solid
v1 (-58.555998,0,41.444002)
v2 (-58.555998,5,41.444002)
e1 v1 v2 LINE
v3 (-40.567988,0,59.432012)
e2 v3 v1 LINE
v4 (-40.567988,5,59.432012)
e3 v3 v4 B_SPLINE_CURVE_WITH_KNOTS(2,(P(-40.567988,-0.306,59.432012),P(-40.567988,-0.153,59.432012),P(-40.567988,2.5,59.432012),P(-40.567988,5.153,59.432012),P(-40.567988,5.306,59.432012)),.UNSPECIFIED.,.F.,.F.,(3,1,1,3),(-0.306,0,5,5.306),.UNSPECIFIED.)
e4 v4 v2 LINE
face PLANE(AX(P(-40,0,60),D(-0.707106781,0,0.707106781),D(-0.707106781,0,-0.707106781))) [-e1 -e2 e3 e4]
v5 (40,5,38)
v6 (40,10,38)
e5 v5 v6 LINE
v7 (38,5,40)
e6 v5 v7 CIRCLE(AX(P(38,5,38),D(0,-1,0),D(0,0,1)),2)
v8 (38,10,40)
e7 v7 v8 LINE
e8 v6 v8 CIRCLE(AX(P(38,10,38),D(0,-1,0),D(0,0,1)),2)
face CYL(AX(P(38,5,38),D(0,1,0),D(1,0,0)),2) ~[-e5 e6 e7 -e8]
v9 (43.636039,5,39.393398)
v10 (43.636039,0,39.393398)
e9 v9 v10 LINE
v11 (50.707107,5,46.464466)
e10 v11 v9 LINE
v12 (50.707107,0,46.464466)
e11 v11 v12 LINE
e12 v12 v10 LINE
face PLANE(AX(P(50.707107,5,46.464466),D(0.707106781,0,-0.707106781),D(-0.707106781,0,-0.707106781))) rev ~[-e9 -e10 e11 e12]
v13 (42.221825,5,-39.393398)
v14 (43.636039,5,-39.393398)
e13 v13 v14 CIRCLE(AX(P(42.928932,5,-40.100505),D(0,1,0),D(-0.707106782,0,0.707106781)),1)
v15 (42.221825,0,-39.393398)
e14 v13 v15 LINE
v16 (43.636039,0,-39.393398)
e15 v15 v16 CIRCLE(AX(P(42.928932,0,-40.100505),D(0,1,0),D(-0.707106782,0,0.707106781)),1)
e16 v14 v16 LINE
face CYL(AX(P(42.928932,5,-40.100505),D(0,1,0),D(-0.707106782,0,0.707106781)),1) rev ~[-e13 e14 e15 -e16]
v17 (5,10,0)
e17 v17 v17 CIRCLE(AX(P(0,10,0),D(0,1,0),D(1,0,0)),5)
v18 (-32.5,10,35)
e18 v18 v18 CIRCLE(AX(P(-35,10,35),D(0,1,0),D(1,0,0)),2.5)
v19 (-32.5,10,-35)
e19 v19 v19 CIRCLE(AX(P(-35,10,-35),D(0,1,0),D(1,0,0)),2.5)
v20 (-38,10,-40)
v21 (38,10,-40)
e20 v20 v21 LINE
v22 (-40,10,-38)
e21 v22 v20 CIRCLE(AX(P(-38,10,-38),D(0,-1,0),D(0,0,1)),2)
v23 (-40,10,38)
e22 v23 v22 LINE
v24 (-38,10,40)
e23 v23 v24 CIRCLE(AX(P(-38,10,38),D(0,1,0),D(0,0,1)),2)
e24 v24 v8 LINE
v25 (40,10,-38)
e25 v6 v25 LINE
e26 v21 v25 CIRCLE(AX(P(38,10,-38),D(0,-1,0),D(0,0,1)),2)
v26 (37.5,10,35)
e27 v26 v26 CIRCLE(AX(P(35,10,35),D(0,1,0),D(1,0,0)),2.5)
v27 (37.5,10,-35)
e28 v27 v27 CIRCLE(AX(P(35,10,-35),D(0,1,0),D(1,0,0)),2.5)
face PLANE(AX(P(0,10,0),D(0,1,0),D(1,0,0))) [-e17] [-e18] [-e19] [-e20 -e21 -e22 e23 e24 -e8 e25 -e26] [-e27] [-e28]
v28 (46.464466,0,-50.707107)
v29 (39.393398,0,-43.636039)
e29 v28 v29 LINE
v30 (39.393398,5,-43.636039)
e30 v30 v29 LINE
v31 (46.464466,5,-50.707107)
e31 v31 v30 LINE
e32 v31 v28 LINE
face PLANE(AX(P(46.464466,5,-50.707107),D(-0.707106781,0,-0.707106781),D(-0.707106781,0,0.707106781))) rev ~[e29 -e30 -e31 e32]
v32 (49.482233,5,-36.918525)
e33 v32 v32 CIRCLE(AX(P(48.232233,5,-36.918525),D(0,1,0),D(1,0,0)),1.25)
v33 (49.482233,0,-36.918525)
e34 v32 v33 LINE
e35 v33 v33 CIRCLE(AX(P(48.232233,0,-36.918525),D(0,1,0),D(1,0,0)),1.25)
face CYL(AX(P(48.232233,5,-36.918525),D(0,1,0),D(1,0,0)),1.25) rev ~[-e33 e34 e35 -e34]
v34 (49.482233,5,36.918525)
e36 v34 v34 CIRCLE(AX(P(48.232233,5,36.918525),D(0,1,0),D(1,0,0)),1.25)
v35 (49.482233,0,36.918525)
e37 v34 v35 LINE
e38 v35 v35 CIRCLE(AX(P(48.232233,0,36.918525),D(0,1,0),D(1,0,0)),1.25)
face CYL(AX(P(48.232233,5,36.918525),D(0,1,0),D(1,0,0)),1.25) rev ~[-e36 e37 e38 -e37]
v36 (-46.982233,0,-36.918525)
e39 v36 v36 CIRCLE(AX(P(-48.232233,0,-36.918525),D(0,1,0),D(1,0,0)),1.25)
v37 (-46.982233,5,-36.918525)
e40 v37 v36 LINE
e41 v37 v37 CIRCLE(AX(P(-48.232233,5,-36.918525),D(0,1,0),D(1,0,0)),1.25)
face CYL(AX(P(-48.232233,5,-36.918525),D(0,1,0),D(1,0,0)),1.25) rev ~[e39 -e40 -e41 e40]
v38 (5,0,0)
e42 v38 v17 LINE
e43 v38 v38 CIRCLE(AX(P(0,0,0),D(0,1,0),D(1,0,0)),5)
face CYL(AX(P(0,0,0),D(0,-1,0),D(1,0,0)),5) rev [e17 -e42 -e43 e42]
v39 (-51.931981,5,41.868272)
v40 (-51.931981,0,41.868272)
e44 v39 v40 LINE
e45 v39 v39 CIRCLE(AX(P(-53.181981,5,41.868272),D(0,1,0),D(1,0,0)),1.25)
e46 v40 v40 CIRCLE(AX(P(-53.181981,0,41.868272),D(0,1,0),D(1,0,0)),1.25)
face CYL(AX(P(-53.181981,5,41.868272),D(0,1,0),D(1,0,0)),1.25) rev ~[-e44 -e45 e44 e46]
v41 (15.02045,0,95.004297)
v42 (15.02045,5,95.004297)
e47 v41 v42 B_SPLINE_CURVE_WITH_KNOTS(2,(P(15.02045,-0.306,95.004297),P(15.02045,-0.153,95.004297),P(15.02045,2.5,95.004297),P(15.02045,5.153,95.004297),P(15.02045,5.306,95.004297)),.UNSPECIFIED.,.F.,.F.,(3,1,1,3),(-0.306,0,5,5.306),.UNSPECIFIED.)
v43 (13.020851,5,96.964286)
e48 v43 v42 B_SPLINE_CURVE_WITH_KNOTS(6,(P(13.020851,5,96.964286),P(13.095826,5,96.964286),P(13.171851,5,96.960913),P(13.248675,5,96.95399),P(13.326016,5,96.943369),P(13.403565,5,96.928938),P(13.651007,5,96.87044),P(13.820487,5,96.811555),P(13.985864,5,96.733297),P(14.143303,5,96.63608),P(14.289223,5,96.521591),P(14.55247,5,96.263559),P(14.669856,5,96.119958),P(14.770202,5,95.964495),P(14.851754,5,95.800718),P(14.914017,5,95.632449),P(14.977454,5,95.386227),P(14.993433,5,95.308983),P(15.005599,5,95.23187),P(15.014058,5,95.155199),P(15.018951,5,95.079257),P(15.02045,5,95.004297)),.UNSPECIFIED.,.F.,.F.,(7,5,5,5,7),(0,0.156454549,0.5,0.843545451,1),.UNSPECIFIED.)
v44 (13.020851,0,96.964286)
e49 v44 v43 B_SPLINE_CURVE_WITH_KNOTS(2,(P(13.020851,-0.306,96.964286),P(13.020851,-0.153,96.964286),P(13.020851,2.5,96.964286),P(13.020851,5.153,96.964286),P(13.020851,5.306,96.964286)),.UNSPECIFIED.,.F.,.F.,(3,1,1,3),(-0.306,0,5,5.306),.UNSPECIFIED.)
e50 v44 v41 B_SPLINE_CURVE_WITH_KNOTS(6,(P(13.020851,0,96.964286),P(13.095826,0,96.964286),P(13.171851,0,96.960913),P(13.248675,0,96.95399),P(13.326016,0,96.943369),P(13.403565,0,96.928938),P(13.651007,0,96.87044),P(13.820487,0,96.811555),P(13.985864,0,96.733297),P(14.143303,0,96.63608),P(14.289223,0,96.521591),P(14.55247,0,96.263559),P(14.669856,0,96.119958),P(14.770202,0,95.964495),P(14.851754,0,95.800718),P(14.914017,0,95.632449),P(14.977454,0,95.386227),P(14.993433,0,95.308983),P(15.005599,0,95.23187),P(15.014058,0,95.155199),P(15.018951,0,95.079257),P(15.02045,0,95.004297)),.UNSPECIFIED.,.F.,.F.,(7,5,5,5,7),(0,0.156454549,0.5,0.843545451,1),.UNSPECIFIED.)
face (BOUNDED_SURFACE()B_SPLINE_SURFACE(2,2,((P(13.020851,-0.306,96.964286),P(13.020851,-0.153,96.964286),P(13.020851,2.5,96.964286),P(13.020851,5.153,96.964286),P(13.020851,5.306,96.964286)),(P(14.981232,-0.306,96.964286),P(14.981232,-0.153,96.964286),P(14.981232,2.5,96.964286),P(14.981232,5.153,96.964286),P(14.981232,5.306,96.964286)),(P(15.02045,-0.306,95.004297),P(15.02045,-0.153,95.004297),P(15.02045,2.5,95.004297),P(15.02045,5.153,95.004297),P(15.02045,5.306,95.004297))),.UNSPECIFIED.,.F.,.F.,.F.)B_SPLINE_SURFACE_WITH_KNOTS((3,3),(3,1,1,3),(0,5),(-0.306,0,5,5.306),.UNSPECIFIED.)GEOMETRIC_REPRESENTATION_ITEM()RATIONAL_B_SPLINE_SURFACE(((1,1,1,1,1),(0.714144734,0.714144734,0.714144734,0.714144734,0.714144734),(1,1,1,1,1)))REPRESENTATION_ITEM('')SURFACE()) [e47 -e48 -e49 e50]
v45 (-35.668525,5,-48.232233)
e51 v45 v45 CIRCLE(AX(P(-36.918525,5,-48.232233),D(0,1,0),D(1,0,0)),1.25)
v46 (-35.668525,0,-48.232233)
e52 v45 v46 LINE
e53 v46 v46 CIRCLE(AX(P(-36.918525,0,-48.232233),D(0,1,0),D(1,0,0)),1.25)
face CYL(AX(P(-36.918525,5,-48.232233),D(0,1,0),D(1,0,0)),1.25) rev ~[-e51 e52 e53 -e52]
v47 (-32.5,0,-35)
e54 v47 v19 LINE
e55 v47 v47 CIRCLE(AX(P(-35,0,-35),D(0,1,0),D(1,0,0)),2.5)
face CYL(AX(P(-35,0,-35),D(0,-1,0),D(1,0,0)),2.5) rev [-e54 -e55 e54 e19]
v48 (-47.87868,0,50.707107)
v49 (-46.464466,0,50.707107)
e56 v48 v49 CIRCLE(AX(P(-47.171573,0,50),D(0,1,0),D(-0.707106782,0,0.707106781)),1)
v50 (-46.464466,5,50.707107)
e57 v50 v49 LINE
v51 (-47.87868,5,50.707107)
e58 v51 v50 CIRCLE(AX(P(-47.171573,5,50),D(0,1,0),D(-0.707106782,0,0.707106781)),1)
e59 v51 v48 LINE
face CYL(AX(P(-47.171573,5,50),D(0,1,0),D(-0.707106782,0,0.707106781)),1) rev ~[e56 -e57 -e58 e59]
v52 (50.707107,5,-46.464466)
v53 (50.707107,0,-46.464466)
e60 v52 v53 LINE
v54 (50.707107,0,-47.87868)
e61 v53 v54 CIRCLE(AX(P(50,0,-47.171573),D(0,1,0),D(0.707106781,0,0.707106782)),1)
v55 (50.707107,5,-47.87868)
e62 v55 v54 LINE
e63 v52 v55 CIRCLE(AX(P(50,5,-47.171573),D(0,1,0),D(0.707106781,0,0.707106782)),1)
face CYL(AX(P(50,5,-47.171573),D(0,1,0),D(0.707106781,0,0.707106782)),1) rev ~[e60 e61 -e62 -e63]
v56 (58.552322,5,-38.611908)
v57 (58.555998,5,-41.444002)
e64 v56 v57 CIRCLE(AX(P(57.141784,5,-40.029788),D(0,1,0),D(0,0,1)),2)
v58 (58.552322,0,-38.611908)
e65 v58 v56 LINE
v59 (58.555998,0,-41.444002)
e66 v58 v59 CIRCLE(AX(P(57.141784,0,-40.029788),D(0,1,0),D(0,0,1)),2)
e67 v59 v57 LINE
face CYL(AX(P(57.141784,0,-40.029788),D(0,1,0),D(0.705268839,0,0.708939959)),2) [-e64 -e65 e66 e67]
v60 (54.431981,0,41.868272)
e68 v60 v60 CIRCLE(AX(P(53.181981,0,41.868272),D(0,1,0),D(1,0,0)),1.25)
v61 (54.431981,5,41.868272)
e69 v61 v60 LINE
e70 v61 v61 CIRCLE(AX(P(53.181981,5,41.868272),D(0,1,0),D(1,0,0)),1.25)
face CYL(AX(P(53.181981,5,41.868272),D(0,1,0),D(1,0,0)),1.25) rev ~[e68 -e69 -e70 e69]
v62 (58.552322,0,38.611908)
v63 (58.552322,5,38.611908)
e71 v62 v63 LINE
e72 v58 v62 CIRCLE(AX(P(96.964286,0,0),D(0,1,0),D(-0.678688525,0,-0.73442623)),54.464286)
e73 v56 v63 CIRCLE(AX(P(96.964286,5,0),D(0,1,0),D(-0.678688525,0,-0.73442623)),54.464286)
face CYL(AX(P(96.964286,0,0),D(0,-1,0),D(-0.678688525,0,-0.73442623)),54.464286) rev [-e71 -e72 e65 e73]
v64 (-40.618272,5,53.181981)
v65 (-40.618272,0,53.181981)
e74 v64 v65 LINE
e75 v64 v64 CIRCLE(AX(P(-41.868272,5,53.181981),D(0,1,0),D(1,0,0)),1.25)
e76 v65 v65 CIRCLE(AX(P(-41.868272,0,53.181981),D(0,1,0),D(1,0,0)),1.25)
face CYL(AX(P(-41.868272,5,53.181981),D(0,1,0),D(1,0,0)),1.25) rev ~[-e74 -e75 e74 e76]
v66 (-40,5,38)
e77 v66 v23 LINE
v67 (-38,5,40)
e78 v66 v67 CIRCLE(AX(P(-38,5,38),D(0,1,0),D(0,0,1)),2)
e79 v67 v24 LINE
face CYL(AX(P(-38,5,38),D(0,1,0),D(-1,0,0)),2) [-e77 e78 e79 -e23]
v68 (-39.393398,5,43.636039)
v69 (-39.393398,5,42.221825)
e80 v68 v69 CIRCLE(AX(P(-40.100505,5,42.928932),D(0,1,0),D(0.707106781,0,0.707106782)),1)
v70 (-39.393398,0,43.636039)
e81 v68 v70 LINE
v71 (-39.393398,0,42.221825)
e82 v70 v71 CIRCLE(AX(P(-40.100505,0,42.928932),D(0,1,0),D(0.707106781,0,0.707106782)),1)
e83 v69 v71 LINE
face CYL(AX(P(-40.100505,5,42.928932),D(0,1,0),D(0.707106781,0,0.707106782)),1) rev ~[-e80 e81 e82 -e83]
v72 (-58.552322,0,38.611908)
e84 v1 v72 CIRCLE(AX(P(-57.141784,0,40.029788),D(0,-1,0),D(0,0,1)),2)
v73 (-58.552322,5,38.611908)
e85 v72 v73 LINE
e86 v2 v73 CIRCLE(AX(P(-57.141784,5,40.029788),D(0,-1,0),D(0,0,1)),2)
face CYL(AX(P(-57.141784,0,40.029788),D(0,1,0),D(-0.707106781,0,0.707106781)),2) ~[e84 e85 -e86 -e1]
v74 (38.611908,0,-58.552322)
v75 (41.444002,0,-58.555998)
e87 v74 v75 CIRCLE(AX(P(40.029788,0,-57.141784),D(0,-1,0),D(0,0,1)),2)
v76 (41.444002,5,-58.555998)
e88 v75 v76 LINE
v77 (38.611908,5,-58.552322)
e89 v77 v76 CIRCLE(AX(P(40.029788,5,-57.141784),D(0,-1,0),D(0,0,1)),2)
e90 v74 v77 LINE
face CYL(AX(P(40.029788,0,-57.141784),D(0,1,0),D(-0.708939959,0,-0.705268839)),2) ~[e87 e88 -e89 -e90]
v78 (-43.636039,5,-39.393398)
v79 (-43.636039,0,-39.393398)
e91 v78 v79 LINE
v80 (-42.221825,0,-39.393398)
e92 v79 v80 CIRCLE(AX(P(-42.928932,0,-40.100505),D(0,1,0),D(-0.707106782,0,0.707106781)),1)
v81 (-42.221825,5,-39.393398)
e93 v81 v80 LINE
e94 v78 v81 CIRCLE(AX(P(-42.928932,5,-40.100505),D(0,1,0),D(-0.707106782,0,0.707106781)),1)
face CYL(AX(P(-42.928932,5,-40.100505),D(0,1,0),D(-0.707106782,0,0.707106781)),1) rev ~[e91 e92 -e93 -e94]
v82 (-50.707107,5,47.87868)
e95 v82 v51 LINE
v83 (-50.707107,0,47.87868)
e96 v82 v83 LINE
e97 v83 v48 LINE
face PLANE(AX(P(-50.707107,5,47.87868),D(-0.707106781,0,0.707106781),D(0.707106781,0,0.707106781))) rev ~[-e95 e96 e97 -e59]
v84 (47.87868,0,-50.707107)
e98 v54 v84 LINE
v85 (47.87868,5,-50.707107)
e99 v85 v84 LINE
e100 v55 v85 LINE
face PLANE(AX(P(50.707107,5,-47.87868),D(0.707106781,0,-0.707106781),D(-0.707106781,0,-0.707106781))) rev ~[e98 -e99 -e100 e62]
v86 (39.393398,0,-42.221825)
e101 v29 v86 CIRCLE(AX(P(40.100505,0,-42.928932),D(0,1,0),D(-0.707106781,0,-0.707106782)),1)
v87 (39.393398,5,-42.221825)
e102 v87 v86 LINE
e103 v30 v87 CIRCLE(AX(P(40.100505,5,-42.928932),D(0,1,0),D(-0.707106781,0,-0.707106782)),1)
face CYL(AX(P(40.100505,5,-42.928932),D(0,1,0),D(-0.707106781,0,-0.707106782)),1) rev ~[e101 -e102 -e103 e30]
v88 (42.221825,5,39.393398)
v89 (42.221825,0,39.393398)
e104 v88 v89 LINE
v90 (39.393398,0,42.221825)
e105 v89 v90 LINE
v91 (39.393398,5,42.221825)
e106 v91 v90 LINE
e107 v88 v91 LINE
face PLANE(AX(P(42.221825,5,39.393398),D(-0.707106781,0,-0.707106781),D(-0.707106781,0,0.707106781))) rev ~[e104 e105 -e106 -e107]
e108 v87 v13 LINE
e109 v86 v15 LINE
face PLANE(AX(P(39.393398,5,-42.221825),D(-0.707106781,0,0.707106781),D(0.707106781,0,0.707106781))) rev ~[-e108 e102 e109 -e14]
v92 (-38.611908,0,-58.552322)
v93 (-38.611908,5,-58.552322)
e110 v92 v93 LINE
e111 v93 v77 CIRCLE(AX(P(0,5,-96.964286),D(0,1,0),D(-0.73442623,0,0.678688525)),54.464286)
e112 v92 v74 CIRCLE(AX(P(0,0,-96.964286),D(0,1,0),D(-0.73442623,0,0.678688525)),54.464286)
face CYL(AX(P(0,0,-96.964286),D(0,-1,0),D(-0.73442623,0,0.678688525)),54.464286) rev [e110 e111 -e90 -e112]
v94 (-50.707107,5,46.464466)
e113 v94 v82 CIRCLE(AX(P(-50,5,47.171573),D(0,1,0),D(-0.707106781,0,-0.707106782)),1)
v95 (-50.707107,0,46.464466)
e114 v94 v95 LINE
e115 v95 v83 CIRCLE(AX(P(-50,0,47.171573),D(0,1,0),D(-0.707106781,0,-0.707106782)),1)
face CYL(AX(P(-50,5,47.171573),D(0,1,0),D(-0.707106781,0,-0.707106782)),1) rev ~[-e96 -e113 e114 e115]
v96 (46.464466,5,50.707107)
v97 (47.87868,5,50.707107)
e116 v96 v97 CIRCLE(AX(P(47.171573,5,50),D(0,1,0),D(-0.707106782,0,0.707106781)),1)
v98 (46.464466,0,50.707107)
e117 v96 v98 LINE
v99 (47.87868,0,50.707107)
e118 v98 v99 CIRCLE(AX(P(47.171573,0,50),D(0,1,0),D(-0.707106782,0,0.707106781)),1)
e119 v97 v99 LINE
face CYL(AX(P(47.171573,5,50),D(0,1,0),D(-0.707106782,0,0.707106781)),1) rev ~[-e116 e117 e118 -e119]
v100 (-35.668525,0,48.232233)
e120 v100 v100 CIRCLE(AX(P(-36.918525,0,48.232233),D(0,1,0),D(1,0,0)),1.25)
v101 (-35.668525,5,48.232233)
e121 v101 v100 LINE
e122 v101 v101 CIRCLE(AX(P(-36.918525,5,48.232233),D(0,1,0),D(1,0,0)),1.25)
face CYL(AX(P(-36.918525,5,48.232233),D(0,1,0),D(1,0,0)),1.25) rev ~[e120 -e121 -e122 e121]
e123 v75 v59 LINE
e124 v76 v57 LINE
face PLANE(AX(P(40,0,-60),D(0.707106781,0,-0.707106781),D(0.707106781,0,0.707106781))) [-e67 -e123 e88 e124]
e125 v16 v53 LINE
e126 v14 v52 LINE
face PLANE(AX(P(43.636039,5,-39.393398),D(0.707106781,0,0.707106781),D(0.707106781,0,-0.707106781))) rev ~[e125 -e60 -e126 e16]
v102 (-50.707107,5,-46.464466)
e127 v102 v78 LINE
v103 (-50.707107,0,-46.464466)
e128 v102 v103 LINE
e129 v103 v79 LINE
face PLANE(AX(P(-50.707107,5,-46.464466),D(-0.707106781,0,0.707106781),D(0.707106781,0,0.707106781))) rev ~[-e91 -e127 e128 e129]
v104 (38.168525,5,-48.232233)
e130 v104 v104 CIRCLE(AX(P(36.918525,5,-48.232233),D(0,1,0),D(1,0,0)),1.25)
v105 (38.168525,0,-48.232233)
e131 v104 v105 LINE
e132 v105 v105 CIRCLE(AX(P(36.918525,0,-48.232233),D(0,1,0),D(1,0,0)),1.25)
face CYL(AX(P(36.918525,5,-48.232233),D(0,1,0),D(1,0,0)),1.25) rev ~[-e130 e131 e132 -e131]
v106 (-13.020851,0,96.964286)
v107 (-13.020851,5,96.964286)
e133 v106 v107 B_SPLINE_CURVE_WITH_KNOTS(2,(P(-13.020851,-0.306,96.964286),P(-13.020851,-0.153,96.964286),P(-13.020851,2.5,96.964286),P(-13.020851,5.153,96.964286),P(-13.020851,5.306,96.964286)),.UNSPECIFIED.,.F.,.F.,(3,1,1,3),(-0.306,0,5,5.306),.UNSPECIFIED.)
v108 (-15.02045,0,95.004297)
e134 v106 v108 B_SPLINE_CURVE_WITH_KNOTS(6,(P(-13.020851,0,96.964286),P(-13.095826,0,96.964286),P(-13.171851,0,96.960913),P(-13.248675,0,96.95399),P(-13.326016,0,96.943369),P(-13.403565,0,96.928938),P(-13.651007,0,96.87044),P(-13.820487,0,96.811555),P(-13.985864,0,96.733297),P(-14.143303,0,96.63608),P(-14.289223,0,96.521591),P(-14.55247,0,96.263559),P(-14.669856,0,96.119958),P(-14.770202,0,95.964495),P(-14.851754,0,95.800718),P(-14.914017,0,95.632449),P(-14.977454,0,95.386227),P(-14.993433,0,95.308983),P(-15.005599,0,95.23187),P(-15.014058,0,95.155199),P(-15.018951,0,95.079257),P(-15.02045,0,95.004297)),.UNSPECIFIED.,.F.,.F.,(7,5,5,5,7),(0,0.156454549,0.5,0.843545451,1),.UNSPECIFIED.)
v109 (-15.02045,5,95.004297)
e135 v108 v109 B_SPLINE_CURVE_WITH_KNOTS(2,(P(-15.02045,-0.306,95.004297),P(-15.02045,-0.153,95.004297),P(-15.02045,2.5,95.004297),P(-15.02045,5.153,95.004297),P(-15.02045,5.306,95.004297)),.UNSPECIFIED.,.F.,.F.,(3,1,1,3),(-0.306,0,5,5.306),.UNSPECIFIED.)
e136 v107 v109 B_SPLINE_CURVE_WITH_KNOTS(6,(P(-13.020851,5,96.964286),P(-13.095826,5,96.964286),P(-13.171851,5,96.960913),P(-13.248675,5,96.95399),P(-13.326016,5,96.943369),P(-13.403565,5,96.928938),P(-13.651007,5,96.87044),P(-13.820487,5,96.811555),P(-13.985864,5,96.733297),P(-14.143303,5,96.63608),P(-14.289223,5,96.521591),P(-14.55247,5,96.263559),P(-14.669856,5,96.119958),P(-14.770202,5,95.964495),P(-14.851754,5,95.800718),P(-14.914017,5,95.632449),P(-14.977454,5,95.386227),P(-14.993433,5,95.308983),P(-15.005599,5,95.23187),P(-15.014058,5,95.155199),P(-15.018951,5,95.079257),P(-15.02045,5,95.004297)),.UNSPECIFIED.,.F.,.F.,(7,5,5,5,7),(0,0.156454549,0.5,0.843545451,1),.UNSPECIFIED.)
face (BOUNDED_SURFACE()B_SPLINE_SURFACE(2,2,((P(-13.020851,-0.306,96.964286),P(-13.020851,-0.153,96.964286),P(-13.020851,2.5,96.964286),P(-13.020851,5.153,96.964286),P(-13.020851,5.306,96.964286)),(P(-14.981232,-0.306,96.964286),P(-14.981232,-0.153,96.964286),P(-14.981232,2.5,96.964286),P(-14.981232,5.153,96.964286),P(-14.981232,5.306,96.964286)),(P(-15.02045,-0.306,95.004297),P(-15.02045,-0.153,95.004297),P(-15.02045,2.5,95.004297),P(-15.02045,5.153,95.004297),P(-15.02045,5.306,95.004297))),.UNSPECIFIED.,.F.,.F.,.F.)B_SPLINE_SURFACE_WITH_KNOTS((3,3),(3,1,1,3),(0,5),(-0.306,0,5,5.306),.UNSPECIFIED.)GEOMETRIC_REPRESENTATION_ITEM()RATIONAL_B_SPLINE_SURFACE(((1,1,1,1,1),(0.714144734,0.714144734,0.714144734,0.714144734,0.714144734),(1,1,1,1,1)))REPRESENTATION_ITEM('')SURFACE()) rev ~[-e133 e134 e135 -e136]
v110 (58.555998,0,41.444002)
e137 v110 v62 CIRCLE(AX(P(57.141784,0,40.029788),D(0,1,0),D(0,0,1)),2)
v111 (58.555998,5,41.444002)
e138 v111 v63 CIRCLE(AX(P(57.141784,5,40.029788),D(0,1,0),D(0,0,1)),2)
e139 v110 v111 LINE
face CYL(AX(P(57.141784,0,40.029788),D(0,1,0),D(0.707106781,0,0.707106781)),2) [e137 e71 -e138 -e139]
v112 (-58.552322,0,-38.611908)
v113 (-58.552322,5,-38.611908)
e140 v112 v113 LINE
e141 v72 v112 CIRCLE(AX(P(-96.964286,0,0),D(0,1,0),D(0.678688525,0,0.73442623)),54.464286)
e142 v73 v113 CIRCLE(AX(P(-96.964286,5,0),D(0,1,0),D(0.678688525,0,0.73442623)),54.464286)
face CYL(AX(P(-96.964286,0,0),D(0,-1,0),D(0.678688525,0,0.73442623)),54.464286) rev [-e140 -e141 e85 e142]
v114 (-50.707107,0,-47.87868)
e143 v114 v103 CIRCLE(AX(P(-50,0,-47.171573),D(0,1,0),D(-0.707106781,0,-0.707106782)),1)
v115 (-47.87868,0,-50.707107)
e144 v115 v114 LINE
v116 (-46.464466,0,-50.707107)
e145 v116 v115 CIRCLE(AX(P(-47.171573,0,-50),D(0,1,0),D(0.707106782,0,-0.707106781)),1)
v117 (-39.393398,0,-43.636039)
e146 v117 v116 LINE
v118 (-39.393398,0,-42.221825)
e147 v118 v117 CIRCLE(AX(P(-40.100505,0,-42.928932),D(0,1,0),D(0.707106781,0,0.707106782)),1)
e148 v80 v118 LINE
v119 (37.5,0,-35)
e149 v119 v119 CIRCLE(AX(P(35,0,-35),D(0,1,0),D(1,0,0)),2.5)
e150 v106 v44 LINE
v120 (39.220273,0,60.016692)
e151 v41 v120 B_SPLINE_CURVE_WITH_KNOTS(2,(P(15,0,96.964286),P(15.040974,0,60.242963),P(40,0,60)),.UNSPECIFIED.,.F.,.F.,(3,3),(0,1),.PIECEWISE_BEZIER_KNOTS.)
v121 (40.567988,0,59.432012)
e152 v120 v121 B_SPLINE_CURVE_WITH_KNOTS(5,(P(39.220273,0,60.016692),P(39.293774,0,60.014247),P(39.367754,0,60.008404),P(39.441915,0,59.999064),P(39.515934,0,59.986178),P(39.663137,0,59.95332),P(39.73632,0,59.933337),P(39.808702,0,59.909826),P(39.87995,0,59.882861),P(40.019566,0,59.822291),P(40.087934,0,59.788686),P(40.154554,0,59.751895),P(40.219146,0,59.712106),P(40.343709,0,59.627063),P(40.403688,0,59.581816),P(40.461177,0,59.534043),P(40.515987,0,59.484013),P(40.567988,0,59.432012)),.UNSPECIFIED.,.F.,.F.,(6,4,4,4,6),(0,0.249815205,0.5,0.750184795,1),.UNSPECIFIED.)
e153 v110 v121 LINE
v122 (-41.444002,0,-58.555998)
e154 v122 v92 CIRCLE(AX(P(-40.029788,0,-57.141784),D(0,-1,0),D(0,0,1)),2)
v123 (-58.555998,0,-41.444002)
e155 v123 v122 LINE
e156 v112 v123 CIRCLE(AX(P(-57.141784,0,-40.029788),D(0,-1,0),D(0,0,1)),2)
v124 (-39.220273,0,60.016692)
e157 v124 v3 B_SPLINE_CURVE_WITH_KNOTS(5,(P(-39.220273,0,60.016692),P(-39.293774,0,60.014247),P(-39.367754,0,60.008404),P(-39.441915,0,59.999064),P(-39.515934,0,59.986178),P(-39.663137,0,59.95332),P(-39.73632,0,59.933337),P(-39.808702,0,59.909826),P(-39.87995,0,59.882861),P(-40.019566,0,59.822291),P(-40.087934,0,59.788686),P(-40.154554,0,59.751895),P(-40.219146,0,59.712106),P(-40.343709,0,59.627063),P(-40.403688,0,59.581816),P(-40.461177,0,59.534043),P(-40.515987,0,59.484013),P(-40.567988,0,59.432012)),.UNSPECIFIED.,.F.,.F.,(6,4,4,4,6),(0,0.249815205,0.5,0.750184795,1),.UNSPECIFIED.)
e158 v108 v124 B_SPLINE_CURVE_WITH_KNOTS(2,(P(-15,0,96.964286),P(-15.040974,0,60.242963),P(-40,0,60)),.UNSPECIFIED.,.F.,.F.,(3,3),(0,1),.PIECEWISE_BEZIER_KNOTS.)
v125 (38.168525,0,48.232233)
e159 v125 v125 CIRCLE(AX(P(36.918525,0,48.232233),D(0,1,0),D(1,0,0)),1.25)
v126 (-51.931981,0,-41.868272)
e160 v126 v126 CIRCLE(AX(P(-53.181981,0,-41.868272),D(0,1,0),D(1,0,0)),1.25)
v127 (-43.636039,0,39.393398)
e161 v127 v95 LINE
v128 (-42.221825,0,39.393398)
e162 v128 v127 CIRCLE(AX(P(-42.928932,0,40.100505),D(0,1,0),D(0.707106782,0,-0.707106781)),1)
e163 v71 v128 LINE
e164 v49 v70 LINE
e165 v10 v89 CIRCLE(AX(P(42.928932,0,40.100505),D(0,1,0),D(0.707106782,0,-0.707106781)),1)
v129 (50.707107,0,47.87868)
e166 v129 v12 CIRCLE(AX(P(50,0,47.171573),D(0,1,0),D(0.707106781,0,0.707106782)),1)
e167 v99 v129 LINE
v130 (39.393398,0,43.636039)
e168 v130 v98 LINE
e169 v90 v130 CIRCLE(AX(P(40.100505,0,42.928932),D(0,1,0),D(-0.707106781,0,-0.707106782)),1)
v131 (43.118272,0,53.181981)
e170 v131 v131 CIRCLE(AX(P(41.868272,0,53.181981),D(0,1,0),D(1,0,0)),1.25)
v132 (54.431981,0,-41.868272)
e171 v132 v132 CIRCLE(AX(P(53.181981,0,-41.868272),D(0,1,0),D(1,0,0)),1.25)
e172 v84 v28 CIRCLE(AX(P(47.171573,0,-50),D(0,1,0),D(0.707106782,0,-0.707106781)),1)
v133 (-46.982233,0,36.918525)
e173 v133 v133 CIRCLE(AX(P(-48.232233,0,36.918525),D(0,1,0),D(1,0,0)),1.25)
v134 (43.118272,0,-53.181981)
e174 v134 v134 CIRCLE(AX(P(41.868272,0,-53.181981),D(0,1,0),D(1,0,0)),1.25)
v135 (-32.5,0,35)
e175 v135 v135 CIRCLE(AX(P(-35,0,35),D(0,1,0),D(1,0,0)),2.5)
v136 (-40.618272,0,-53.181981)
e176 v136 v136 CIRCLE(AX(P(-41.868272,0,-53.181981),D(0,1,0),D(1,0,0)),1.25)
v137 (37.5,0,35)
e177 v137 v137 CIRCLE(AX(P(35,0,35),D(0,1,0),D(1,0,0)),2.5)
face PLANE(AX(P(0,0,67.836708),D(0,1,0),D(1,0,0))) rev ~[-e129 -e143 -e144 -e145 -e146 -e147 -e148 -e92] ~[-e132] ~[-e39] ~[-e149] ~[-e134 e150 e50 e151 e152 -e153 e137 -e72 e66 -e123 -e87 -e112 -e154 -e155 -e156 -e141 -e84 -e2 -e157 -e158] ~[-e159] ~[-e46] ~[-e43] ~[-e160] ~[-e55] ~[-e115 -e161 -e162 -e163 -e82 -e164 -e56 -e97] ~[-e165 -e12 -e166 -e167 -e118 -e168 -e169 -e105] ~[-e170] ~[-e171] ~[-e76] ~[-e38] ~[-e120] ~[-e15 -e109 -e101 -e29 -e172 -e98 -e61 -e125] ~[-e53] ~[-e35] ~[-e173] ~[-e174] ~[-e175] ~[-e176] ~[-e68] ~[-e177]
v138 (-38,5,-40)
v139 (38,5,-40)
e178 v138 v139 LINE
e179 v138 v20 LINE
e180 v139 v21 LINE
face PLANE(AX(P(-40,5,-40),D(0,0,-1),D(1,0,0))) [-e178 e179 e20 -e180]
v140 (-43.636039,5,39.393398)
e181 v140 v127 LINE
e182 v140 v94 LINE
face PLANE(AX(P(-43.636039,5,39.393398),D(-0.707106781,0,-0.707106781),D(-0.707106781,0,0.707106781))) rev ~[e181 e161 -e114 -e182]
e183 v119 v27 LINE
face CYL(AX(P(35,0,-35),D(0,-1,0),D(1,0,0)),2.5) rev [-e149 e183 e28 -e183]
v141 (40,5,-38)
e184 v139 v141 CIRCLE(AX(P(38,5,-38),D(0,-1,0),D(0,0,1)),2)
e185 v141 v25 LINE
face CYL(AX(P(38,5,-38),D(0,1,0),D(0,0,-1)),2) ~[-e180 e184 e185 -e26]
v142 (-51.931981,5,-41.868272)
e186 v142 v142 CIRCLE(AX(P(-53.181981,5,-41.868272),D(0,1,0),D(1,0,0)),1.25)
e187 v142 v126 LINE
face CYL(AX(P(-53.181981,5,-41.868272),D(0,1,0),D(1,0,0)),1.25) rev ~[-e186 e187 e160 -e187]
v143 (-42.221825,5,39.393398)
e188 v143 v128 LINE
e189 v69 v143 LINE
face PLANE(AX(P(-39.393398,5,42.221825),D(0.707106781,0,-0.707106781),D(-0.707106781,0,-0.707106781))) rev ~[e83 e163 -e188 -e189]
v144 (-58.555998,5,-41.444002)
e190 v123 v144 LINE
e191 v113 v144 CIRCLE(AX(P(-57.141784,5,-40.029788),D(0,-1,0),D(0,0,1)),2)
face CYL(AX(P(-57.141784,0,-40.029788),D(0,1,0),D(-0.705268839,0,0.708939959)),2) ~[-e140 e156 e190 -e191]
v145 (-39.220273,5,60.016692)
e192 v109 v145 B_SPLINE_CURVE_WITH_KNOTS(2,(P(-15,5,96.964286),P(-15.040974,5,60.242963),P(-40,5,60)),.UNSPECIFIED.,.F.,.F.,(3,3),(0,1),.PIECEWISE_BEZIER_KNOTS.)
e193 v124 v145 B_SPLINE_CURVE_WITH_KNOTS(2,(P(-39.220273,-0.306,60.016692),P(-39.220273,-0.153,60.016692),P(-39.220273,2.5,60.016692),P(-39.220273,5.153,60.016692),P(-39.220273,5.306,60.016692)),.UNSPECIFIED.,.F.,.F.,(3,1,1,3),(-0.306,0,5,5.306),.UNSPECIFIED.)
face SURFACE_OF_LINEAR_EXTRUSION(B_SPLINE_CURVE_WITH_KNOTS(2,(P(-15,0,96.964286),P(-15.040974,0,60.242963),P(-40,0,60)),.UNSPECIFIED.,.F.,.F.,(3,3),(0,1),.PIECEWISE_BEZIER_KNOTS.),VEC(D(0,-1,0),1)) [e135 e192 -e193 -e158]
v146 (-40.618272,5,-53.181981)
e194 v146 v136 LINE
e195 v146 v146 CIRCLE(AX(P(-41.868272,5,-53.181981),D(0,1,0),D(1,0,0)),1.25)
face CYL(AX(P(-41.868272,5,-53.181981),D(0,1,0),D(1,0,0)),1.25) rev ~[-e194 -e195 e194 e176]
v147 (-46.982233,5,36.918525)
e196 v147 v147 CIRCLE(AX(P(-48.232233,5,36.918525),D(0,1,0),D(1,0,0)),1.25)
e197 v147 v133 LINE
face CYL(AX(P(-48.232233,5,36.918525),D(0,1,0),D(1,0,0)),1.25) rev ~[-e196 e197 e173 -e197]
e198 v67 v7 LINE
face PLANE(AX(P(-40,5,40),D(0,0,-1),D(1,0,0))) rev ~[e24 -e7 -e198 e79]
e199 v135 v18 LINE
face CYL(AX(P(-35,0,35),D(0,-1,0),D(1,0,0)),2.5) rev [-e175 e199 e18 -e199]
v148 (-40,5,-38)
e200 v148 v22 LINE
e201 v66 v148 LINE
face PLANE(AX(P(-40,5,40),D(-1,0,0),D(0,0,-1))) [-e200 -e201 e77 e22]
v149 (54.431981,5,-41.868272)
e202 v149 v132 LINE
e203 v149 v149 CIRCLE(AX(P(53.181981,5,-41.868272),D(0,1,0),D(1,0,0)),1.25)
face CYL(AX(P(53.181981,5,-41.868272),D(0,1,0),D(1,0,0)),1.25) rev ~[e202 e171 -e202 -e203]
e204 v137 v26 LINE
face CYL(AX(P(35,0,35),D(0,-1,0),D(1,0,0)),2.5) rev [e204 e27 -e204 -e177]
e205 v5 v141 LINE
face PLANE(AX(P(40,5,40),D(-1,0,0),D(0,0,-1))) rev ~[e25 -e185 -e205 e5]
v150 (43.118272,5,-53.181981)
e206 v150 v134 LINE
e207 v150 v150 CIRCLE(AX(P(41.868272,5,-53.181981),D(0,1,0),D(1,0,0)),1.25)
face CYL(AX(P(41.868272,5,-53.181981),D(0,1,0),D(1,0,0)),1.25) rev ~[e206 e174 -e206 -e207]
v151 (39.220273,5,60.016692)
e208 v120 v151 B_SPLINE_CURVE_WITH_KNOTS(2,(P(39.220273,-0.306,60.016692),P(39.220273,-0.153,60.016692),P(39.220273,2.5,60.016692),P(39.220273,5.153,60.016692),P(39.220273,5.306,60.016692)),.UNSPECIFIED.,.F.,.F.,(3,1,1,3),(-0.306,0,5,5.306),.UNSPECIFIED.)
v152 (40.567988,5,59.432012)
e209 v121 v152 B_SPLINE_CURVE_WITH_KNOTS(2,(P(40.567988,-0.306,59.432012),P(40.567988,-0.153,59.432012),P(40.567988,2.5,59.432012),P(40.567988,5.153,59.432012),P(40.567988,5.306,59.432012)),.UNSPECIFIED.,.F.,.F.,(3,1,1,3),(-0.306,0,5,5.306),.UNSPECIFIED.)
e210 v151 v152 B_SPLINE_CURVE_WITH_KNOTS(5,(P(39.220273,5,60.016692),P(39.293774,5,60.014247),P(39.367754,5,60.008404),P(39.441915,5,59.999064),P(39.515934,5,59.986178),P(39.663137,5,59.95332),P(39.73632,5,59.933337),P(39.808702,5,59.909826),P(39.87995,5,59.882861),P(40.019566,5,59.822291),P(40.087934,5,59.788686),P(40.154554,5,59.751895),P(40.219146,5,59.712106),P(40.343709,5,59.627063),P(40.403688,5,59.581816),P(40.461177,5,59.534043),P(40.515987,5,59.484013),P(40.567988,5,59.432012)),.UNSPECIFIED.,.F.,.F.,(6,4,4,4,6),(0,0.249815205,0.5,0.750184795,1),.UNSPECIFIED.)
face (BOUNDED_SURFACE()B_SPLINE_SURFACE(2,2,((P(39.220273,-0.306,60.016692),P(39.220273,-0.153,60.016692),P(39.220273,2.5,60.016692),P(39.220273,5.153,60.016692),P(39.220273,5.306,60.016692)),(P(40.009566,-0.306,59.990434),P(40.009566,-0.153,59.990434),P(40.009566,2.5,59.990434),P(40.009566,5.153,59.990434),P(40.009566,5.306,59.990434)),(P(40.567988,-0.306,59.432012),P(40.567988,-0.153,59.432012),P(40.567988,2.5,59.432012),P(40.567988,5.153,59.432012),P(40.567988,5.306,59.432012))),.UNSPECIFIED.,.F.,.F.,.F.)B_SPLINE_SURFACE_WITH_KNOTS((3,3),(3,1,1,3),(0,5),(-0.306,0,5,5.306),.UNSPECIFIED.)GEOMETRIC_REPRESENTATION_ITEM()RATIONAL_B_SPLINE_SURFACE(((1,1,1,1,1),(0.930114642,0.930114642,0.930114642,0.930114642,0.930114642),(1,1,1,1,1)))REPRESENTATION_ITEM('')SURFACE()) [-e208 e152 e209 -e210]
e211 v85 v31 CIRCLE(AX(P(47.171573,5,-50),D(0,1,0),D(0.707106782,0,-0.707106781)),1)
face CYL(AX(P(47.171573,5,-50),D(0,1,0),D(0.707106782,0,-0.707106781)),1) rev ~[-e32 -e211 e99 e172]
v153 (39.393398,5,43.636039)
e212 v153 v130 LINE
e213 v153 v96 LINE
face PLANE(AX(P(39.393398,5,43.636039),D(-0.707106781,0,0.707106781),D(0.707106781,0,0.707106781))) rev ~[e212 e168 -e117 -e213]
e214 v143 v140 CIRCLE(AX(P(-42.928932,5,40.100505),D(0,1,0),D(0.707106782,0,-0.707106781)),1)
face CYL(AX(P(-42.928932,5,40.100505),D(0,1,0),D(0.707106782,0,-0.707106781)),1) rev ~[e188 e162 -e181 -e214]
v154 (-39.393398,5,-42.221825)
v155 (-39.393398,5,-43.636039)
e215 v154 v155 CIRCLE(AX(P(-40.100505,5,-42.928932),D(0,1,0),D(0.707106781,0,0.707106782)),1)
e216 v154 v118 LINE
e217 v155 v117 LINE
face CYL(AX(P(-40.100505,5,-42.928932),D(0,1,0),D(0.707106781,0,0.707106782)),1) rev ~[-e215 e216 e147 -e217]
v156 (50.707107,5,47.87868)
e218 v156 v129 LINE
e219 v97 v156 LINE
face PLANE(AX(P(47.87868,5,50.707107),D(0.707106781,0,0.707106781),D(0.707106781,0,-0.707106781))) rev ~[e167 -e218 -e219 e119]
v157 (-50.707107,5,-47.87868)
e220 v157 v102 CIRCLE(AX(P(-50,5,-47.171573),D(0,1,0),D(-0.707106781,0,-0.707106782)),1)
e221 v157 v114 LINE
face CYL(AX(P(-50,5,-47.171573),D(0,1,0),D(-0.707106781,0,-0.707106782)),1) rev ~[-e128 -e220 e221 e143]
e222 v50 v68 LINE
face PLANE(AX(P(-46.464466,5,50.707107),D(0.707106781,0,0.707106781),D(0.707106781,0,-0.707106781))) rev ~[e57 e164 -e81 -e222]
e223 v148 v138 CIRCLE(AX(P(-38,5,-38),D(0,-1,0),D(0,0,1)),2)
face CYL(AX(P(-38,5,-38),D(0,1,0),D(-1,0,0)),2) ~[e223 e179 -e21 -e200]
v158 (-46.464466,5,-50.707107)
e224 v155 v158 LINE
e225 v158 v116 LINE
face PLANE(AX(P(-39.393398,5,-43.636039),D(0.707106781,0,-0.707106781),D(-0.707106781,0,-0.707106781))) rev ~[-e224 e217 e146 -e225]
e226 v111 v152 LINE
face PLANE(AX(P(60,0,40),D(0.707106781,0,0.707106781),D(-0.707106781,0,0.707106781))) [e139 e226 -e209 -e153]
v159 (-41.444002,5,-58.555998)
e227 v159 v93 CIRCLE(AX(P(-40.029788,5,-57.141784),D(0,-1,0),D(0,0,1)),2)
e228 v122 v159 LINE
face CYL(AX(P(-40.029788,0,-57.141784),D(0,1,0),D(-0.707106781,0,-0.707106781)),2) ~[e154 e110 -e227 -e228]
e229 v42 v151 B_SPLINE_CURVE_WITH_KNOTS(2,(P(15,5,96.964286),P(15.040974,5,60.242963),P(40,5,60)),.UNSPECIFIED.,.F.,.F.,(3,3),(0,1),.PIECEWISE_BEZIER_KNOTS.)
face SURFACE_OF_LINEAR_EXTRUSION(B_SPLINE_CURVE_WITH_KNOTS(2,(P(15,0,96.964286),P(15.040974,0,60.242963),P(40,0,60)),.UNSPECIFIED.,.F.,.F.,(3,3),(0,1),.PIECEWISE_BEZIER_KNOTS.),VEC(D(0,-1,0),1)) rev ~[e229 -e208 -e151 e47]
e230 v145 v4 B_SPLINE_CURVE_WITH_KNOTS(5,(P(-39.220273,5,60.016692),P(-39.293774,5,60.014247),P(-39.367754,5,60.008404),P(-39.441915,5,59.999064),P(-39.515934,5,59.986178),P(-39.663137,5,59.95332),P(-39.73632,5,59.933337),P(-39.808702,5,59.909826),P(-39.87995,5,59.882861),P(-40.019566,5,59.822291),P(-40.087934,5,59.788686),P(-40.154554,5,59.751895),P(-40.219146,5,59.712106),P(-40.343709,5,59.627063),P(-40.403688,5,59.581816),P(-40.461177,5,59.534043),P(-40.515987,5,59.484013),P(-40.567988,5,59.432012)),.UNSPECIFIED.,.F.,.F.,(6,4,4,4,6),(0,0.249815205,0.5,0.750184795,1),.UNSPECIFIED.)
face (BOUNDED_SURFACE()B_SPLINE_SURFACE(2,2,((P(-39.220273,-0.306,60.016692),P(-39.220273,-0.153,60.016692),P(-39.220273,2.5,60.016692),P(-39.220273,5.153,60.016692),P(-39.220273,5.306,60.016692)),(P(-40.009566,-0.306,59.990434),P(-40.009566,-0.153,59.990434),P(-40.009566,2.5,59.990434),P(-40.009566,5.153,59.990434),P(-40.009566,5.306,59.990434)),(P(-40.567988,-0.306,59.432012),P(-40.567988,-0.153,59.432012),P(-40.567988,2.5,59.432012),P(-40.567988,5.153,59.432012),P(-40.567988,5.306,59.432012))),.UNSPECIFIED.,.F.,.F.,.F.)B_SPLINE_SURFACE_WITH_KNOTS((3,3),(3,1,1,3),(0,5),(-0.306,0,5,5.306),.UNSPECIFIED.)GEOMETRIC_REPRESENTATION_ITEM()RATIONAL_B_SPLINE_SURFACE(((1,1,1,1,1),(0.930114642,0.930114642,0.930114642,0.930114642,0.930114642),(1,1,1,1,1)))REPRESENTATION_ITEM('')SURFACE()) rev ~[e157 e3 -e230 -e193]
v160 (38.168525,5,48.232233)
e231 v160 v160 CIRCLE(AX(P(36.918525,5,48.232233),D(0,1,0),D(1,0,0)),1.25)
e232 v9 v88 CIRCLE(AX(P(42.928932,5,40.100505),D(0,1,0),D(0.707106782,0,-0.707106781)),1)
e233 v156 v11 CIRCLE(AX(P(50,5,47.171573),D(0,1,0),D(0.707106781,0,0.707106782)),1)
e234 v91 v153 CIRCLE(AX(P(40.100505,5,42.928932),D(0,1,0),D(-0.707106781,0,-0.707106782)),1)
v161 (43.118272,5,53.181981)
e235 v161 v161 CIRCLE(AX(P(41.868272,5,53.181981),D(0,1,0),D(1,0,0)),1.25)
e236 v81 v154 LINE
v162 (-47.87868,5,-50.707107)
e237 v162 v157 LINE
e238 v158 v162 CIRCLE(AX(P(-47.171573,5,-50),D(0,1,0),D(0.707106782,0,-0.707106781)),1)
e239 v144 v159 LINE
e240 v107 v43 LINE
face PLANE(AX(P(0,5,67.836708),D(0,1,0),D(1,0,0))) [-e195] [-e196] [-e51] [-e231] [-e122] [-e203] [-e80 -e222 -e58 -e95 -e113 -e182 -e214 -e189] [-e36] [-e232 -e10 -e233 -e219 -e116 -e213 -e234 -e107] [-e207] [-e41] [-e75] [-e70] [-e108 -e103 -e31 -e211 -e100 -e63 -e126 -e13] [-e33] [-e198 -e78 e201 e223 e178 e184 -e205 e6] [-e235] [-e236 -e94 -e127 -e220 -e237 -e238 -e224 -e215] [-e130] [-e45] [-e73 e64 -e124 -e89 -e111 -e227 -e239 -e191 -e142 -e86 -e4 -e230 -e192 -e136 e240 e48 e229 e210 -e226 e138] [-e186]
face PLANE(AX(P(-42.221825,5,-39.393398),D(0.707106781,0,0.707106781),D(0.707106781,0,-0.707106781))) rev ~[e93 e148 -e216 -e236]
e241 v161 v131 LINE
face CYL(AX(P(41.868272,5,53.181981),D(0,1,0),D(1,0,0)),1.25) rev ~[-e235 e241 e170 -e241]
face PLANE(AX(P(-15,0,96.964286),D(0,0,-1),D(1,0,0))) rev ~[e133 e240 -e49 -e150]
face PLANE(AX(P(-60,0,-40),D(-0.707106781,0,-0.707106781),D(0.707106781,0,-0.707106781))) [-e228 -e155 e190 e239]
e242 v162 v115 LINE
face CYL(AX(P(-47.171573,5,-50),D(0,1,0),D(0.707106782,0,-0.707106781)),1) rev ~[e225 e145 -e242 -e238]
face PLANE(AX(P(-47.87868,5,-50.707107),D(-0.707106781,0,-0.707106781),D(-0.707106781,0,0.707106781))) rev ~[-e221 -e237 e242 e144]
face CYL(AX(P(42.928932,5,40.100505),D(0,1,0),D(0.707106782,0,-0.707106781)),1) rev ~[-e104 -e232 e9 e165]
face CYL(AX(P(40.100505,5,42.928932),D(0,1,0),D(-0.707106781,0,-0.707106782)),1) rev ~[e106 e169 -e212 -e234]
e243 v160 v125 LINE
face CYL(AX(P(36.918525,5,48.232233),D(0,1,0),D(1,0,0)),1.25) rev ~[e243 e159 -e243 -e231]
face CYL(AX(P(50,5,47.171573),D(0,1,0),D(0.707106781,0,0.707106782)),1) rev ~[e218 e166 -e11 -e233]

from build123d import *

# Parameters (mm, degrees)
BOSS_EXTRUDE1_DEPTH     = 5
SKETCH4_W               = 80
SKETCH4_H               = 80
BOSS_EXTRUDE2_DEPTH     = 5
CUT_EXTRUDE4_DEPTH      = 5
CUT_EXTRUDE4_DEPTH_BACK = 5
SKETCH6_R               = 2.5
SKETCH7_R               = 1.25
CUT_EXTRUDE5_DEPTH      = 5
SKETCH8_R               = 5
CUT_EXTRUDE6_DEPTH      = 10
BOSS_EXTRUDE3_START     = -5
BOSS_EXTRUDE3_DEPTH     = 5
FILLET1_R               = 2
FILLET2_R               = 2


with BuildPart() as part:
    # Sketch3 → Boss-Extrude1 (new body)
    with BuildSketch(Plane(origin=(0, 0, 0), x_dir=(1, 0, 0), z_dir=(0, 1, 0))):
        with BuildLine():
            Line((-60, 40), (-40, 60))
            ThreePointArc((-40, 60), (0, 42.5), (40, 60))
            Line((40, 60), (60, 40))
            ThreePointArc((60, 40), (42.5, 0), (60, -40))
            Line((60, -40), (40, -60))
            ThreePointArc((40, -60), (0, -42.5), (-40, -60))
            Line((-40, -60), (-60, -40))
            ThreePointArc((-60, -40), (-42.5, 0), (-60, 40))
        make_face()
    extrude(amount=BOSS_EXTRUDE1_DEPTH)

    # Sketch4 → Boss-Extrude2 (add)
    with BuildSketch(Plane(origin=(0, 5, 0), x_dir=(1, 0, 0), z_dir=(0, 1, 0))):
        Rectangle(SKETCH4_W, SKETCH4_H)
    extrude(amount=BOSS_EXTRUDE2_DEPTH)

    # Sketch6 → Cut-Extrude4 (cut, two sides: drawn at the far end of the back side and taken through both)
    with BuildSketch(Plane(origin=(0, 5, 0), x_dir=(1, 0, 0), z_dir=(0, 1, 0)).offset(-CUT_EXTRUDE4_DEPTH_BACK)):
        with Locations((-35, 35)):
            Circle(SKETCH6_R)
        with Locations((35, 35)):
            Circle(SKETCH6_R)
        with Locations((35, -35)):
            Circle(SKETCH6_R)
        with Locations((-35, -35)):
            Circle(SKETCH6_R)
    extrude(amount=CUT_EXTRUDE4_DEPTH + CUT_EXTRUDE4_DEPTH_BACK, mode=Mode.SUBTRACT)

    # Sketch7 → Cut-Extrude5 (cut)
    with BuildSketch(Plane(origin=(0, 5, 0), x_dir=(1, 0, 0), z_dir=(0, 1, 0))):
        with BuildLine():
            Line((-47.878679656, 50.707106781), (-50.707106781, 47.878679656))
            ThreePointArc((-50.707106781, 47.878679656), (-51, 47.171572875), (-50.707106781, 46.464466094))
            Line((-50.707106781, 46.464466094), (-43.636038969, 39.393398282))
            ThreePointArc((-43.636038969, 39.393398282), (-42.928932188, 39.100505063), (-42.221825407, 39.393398282))
            Line((-42.221825407, 39.393398282), (-39.393398282, 42.221825407))
            ThreePointArc((-39.393398282, 42.221825407), (-39.100505063, 42.928932188), (-39.393398282, 43.636038969))
            Line((-39.393398282, 43.636038969), (-46.464466094, 50.707106781))
            ThreePointArc((-46.464466094, 50.707106781), (-47.171572875, 51), (-47.878679656, 50.707106781))
        make_face()
        with BuildLine():
            Line((39.393398282, 42.221825407), (42.221825407, 39.393398282))
            ThreePointArc((42.221825407, 39.393398282), (42.928932188, 39.100505063), (43.636038969, 39.393398282))
            Line((43.636038969, 39.393398282), (50.707106781, 46.464466094))
            ThreePointArc((50.707106781, 46.464466094), (51, 47.171572875), (50.707106781, 47.878679656))
            Line((50.707106781, 47.878679656), (47.878679656, 50.707106781))
            ThreePointArc((47.878679656, 50.707106781), (47.171572875, 51), (46.464466094, 50.707106781))
            Line((46.464466094, 50.707106781), (39.393398282, 43.636038969))
            ThreePointArc((39.393398282, 43.636038969), (39.100505063, 42.928932188), (39.393398282, 42.221825407))
        make_face()
        with BuildLine():
            Line((42.221825407, -39.393398282), (39.393398282, -42.221825407))
            ThreePointArc((39.393398282, -42.221825407), (39.100505063, -42.928932188), (39.393398282, -43.636038969))
            Line((39.393398282, -43.636038969), (46.464466094, -50.707106781))
            ThreePointArc((46.464466094, -50.707106781), (47.171572875, -51), (47.878679656, -50.707106781))
            Line((47.878679656, -50.707106781), (50.707106781, -47.878679656))
            ThreePointArc((50.707106781, -47.878679656), (51, -47.171572875), (50.707106781, -46.464466094))
            Line((50.707106781, -46.464466094), (43.636038969, -39.393398282))
            ThreePointArc((43.636038969, -39.393398282), (42.928932188, -39.100505063), (42.221825407, -39.393398282))
        make_face()
        with BuildLine():
            Line((-39.393398282, -42.221825407), (-42.221825407, -39.393398282))
            ThreePointArc((-42.221825407, -39.393398282), (-42.928932188, -39.100505063), (-43.636038969, -39.393398282))
            Line((-43.636038969, -39.393398282), (-50.707106781, -46.464466094))
            ThreePointArc((-50.707106781, -46.464466094), (-51, -47.171572875), (-50.707106781, -47.878679656))
            Line((-50.707106781, -47.878679656), (-47.878679656, -50.707106781))
            ThreePointArc((-47.878679656, -50.707106781), (-47.171572875, -51), (-46.464466094, -50.707106781))
            Line((-46.464466094, -50.707106781), (-39.393398282, -43.636038969))
            ThreePointArc((-39.393398282, -43.636038969), (-39.100505063, -42.928932188), (-39.393398282, -42.221825407))
        make_face()
        with Locations((-41.868272016, 53.181980515)):
            Circle(SKETCH7_R)
        with Locations((-36.918524548, 48.232233047)):
            Circle(SKETCH7_R)
        with Locations((-48.232233047, 36.918524548)):
            Circle(SKETCH7_R)
        with Locations((-53.181980515, 41.868272016)):
            Circle(SKETCH7_R)
        with Locations((41.868272016, 53.181980515)):
            Circle(SKETCH7_R)
        with Locations((36.918524548, 48.232233047)):
            Circle(SKETCH7_R)
        with Locations((48.232233047, 36.918524548)):
            Circle(SKETCH7_R)
        with Locations((53.181980515, 41.868272016)):
            Circle(SKETCH7_R)
        with Locations((53.181980515, -41.868272016)):
            Circle(SKETCH7_R)
        with Locations((48.232233047, -36.918524548)):
            Circle(SKETCH7_R)
        with Locations((36.918524548, -48.232233047)):
            Circle(SKETCH7_R)
        with Locations((41.868272016, -53.181980515)):
            Circle(SKETCH7_R)
        with Locations((-41.868272016, -53.181980515)):
            Circle(SKETCH7_R)
        with Locations((-36.918524548, -48.232233047)):
            Circle(SKETCH7_R)
        with Locations((-48.232233047, -36.918524548)):
            Circle(SKETCH7_R)
        with Locations((-53.181980515, -41.868272016)):
            Circle(SKETCH7_R)
    extrude(amount=-CUT_EXTRUDE5_DEPTH, mode=Mode.SUBTRACT)

    # Sketch8 → Cut-Extrude6 (cut)
    with BuildSketch(Plane(origin=(0, 0, 0), x_dir=(1, 0, 0), z_dir=(0, 1, 0))):
        Circle(SKETCH8_R)
    extrude(amount=CUT_EXTRUDE6_DEPTH, mode=Mode.SUBTRACT)

    # Sketch9 → Boss-Extrude3 (add)
    with BuildSketch(Plane(origin=(0, 5, 0), x_dir=(1, 0, 0), z_dir=(0, 1, 0)).offset(BOSS_EXTRUDE3_START)):
        with BuildLine():
            Line((-15, -96.964285714), (15, -96.964285714))
            add(Edge.make_bspline(
                [(15, -96.964285714), (15.040974101, -60.242963076), (40, -60)],
                knots=[0, 0, 0, 1, 1, 1], degree=2))
            ThreePointArc((40, -60), (0, -42.5), (-40, -60))
            add(Edge.make_bspline(
                [(-15, -96.964285714), (-15.040974101, -60.242963076), (-40, -60)],
                knots=[0, 0, 0, 1, 1, 1], degree=2))
        make_face()
    extrude(amount=BOSS_EXTRUDE3_DEPTH)

    # Fillet1
    fillet1_edges = [part.edges().sort_by_distance(p)[0] for p in [
        (-40, 2.5, 60),
        (-60, 2.5, 40),
        (-60, 2.5, -40),
        (-40, 2.5, -60),
        (40, 2.5, -60),
        (60, 2.5, -40),
        (-15, 2.5, 96.964285714),
        (60, 2.5, 40),
        (40, 2.5, 60),
        (15, 2.5, 96.964285714),
    ]]
    fillet(fillet1_edges, radius=FILLET1_R)

    # Fillet2
    fillet2_edges = [part.edges().sort_by_distance(p)[0] for p in [
        (40, 7.5, -40),
        (40, 7.5, 40),
        (-40, 7.5, 40),
        (-40, 7.5, -40),
    ]]
    fillet(fillet2_edges, radius=FILLET2_R)


solid = part.part
